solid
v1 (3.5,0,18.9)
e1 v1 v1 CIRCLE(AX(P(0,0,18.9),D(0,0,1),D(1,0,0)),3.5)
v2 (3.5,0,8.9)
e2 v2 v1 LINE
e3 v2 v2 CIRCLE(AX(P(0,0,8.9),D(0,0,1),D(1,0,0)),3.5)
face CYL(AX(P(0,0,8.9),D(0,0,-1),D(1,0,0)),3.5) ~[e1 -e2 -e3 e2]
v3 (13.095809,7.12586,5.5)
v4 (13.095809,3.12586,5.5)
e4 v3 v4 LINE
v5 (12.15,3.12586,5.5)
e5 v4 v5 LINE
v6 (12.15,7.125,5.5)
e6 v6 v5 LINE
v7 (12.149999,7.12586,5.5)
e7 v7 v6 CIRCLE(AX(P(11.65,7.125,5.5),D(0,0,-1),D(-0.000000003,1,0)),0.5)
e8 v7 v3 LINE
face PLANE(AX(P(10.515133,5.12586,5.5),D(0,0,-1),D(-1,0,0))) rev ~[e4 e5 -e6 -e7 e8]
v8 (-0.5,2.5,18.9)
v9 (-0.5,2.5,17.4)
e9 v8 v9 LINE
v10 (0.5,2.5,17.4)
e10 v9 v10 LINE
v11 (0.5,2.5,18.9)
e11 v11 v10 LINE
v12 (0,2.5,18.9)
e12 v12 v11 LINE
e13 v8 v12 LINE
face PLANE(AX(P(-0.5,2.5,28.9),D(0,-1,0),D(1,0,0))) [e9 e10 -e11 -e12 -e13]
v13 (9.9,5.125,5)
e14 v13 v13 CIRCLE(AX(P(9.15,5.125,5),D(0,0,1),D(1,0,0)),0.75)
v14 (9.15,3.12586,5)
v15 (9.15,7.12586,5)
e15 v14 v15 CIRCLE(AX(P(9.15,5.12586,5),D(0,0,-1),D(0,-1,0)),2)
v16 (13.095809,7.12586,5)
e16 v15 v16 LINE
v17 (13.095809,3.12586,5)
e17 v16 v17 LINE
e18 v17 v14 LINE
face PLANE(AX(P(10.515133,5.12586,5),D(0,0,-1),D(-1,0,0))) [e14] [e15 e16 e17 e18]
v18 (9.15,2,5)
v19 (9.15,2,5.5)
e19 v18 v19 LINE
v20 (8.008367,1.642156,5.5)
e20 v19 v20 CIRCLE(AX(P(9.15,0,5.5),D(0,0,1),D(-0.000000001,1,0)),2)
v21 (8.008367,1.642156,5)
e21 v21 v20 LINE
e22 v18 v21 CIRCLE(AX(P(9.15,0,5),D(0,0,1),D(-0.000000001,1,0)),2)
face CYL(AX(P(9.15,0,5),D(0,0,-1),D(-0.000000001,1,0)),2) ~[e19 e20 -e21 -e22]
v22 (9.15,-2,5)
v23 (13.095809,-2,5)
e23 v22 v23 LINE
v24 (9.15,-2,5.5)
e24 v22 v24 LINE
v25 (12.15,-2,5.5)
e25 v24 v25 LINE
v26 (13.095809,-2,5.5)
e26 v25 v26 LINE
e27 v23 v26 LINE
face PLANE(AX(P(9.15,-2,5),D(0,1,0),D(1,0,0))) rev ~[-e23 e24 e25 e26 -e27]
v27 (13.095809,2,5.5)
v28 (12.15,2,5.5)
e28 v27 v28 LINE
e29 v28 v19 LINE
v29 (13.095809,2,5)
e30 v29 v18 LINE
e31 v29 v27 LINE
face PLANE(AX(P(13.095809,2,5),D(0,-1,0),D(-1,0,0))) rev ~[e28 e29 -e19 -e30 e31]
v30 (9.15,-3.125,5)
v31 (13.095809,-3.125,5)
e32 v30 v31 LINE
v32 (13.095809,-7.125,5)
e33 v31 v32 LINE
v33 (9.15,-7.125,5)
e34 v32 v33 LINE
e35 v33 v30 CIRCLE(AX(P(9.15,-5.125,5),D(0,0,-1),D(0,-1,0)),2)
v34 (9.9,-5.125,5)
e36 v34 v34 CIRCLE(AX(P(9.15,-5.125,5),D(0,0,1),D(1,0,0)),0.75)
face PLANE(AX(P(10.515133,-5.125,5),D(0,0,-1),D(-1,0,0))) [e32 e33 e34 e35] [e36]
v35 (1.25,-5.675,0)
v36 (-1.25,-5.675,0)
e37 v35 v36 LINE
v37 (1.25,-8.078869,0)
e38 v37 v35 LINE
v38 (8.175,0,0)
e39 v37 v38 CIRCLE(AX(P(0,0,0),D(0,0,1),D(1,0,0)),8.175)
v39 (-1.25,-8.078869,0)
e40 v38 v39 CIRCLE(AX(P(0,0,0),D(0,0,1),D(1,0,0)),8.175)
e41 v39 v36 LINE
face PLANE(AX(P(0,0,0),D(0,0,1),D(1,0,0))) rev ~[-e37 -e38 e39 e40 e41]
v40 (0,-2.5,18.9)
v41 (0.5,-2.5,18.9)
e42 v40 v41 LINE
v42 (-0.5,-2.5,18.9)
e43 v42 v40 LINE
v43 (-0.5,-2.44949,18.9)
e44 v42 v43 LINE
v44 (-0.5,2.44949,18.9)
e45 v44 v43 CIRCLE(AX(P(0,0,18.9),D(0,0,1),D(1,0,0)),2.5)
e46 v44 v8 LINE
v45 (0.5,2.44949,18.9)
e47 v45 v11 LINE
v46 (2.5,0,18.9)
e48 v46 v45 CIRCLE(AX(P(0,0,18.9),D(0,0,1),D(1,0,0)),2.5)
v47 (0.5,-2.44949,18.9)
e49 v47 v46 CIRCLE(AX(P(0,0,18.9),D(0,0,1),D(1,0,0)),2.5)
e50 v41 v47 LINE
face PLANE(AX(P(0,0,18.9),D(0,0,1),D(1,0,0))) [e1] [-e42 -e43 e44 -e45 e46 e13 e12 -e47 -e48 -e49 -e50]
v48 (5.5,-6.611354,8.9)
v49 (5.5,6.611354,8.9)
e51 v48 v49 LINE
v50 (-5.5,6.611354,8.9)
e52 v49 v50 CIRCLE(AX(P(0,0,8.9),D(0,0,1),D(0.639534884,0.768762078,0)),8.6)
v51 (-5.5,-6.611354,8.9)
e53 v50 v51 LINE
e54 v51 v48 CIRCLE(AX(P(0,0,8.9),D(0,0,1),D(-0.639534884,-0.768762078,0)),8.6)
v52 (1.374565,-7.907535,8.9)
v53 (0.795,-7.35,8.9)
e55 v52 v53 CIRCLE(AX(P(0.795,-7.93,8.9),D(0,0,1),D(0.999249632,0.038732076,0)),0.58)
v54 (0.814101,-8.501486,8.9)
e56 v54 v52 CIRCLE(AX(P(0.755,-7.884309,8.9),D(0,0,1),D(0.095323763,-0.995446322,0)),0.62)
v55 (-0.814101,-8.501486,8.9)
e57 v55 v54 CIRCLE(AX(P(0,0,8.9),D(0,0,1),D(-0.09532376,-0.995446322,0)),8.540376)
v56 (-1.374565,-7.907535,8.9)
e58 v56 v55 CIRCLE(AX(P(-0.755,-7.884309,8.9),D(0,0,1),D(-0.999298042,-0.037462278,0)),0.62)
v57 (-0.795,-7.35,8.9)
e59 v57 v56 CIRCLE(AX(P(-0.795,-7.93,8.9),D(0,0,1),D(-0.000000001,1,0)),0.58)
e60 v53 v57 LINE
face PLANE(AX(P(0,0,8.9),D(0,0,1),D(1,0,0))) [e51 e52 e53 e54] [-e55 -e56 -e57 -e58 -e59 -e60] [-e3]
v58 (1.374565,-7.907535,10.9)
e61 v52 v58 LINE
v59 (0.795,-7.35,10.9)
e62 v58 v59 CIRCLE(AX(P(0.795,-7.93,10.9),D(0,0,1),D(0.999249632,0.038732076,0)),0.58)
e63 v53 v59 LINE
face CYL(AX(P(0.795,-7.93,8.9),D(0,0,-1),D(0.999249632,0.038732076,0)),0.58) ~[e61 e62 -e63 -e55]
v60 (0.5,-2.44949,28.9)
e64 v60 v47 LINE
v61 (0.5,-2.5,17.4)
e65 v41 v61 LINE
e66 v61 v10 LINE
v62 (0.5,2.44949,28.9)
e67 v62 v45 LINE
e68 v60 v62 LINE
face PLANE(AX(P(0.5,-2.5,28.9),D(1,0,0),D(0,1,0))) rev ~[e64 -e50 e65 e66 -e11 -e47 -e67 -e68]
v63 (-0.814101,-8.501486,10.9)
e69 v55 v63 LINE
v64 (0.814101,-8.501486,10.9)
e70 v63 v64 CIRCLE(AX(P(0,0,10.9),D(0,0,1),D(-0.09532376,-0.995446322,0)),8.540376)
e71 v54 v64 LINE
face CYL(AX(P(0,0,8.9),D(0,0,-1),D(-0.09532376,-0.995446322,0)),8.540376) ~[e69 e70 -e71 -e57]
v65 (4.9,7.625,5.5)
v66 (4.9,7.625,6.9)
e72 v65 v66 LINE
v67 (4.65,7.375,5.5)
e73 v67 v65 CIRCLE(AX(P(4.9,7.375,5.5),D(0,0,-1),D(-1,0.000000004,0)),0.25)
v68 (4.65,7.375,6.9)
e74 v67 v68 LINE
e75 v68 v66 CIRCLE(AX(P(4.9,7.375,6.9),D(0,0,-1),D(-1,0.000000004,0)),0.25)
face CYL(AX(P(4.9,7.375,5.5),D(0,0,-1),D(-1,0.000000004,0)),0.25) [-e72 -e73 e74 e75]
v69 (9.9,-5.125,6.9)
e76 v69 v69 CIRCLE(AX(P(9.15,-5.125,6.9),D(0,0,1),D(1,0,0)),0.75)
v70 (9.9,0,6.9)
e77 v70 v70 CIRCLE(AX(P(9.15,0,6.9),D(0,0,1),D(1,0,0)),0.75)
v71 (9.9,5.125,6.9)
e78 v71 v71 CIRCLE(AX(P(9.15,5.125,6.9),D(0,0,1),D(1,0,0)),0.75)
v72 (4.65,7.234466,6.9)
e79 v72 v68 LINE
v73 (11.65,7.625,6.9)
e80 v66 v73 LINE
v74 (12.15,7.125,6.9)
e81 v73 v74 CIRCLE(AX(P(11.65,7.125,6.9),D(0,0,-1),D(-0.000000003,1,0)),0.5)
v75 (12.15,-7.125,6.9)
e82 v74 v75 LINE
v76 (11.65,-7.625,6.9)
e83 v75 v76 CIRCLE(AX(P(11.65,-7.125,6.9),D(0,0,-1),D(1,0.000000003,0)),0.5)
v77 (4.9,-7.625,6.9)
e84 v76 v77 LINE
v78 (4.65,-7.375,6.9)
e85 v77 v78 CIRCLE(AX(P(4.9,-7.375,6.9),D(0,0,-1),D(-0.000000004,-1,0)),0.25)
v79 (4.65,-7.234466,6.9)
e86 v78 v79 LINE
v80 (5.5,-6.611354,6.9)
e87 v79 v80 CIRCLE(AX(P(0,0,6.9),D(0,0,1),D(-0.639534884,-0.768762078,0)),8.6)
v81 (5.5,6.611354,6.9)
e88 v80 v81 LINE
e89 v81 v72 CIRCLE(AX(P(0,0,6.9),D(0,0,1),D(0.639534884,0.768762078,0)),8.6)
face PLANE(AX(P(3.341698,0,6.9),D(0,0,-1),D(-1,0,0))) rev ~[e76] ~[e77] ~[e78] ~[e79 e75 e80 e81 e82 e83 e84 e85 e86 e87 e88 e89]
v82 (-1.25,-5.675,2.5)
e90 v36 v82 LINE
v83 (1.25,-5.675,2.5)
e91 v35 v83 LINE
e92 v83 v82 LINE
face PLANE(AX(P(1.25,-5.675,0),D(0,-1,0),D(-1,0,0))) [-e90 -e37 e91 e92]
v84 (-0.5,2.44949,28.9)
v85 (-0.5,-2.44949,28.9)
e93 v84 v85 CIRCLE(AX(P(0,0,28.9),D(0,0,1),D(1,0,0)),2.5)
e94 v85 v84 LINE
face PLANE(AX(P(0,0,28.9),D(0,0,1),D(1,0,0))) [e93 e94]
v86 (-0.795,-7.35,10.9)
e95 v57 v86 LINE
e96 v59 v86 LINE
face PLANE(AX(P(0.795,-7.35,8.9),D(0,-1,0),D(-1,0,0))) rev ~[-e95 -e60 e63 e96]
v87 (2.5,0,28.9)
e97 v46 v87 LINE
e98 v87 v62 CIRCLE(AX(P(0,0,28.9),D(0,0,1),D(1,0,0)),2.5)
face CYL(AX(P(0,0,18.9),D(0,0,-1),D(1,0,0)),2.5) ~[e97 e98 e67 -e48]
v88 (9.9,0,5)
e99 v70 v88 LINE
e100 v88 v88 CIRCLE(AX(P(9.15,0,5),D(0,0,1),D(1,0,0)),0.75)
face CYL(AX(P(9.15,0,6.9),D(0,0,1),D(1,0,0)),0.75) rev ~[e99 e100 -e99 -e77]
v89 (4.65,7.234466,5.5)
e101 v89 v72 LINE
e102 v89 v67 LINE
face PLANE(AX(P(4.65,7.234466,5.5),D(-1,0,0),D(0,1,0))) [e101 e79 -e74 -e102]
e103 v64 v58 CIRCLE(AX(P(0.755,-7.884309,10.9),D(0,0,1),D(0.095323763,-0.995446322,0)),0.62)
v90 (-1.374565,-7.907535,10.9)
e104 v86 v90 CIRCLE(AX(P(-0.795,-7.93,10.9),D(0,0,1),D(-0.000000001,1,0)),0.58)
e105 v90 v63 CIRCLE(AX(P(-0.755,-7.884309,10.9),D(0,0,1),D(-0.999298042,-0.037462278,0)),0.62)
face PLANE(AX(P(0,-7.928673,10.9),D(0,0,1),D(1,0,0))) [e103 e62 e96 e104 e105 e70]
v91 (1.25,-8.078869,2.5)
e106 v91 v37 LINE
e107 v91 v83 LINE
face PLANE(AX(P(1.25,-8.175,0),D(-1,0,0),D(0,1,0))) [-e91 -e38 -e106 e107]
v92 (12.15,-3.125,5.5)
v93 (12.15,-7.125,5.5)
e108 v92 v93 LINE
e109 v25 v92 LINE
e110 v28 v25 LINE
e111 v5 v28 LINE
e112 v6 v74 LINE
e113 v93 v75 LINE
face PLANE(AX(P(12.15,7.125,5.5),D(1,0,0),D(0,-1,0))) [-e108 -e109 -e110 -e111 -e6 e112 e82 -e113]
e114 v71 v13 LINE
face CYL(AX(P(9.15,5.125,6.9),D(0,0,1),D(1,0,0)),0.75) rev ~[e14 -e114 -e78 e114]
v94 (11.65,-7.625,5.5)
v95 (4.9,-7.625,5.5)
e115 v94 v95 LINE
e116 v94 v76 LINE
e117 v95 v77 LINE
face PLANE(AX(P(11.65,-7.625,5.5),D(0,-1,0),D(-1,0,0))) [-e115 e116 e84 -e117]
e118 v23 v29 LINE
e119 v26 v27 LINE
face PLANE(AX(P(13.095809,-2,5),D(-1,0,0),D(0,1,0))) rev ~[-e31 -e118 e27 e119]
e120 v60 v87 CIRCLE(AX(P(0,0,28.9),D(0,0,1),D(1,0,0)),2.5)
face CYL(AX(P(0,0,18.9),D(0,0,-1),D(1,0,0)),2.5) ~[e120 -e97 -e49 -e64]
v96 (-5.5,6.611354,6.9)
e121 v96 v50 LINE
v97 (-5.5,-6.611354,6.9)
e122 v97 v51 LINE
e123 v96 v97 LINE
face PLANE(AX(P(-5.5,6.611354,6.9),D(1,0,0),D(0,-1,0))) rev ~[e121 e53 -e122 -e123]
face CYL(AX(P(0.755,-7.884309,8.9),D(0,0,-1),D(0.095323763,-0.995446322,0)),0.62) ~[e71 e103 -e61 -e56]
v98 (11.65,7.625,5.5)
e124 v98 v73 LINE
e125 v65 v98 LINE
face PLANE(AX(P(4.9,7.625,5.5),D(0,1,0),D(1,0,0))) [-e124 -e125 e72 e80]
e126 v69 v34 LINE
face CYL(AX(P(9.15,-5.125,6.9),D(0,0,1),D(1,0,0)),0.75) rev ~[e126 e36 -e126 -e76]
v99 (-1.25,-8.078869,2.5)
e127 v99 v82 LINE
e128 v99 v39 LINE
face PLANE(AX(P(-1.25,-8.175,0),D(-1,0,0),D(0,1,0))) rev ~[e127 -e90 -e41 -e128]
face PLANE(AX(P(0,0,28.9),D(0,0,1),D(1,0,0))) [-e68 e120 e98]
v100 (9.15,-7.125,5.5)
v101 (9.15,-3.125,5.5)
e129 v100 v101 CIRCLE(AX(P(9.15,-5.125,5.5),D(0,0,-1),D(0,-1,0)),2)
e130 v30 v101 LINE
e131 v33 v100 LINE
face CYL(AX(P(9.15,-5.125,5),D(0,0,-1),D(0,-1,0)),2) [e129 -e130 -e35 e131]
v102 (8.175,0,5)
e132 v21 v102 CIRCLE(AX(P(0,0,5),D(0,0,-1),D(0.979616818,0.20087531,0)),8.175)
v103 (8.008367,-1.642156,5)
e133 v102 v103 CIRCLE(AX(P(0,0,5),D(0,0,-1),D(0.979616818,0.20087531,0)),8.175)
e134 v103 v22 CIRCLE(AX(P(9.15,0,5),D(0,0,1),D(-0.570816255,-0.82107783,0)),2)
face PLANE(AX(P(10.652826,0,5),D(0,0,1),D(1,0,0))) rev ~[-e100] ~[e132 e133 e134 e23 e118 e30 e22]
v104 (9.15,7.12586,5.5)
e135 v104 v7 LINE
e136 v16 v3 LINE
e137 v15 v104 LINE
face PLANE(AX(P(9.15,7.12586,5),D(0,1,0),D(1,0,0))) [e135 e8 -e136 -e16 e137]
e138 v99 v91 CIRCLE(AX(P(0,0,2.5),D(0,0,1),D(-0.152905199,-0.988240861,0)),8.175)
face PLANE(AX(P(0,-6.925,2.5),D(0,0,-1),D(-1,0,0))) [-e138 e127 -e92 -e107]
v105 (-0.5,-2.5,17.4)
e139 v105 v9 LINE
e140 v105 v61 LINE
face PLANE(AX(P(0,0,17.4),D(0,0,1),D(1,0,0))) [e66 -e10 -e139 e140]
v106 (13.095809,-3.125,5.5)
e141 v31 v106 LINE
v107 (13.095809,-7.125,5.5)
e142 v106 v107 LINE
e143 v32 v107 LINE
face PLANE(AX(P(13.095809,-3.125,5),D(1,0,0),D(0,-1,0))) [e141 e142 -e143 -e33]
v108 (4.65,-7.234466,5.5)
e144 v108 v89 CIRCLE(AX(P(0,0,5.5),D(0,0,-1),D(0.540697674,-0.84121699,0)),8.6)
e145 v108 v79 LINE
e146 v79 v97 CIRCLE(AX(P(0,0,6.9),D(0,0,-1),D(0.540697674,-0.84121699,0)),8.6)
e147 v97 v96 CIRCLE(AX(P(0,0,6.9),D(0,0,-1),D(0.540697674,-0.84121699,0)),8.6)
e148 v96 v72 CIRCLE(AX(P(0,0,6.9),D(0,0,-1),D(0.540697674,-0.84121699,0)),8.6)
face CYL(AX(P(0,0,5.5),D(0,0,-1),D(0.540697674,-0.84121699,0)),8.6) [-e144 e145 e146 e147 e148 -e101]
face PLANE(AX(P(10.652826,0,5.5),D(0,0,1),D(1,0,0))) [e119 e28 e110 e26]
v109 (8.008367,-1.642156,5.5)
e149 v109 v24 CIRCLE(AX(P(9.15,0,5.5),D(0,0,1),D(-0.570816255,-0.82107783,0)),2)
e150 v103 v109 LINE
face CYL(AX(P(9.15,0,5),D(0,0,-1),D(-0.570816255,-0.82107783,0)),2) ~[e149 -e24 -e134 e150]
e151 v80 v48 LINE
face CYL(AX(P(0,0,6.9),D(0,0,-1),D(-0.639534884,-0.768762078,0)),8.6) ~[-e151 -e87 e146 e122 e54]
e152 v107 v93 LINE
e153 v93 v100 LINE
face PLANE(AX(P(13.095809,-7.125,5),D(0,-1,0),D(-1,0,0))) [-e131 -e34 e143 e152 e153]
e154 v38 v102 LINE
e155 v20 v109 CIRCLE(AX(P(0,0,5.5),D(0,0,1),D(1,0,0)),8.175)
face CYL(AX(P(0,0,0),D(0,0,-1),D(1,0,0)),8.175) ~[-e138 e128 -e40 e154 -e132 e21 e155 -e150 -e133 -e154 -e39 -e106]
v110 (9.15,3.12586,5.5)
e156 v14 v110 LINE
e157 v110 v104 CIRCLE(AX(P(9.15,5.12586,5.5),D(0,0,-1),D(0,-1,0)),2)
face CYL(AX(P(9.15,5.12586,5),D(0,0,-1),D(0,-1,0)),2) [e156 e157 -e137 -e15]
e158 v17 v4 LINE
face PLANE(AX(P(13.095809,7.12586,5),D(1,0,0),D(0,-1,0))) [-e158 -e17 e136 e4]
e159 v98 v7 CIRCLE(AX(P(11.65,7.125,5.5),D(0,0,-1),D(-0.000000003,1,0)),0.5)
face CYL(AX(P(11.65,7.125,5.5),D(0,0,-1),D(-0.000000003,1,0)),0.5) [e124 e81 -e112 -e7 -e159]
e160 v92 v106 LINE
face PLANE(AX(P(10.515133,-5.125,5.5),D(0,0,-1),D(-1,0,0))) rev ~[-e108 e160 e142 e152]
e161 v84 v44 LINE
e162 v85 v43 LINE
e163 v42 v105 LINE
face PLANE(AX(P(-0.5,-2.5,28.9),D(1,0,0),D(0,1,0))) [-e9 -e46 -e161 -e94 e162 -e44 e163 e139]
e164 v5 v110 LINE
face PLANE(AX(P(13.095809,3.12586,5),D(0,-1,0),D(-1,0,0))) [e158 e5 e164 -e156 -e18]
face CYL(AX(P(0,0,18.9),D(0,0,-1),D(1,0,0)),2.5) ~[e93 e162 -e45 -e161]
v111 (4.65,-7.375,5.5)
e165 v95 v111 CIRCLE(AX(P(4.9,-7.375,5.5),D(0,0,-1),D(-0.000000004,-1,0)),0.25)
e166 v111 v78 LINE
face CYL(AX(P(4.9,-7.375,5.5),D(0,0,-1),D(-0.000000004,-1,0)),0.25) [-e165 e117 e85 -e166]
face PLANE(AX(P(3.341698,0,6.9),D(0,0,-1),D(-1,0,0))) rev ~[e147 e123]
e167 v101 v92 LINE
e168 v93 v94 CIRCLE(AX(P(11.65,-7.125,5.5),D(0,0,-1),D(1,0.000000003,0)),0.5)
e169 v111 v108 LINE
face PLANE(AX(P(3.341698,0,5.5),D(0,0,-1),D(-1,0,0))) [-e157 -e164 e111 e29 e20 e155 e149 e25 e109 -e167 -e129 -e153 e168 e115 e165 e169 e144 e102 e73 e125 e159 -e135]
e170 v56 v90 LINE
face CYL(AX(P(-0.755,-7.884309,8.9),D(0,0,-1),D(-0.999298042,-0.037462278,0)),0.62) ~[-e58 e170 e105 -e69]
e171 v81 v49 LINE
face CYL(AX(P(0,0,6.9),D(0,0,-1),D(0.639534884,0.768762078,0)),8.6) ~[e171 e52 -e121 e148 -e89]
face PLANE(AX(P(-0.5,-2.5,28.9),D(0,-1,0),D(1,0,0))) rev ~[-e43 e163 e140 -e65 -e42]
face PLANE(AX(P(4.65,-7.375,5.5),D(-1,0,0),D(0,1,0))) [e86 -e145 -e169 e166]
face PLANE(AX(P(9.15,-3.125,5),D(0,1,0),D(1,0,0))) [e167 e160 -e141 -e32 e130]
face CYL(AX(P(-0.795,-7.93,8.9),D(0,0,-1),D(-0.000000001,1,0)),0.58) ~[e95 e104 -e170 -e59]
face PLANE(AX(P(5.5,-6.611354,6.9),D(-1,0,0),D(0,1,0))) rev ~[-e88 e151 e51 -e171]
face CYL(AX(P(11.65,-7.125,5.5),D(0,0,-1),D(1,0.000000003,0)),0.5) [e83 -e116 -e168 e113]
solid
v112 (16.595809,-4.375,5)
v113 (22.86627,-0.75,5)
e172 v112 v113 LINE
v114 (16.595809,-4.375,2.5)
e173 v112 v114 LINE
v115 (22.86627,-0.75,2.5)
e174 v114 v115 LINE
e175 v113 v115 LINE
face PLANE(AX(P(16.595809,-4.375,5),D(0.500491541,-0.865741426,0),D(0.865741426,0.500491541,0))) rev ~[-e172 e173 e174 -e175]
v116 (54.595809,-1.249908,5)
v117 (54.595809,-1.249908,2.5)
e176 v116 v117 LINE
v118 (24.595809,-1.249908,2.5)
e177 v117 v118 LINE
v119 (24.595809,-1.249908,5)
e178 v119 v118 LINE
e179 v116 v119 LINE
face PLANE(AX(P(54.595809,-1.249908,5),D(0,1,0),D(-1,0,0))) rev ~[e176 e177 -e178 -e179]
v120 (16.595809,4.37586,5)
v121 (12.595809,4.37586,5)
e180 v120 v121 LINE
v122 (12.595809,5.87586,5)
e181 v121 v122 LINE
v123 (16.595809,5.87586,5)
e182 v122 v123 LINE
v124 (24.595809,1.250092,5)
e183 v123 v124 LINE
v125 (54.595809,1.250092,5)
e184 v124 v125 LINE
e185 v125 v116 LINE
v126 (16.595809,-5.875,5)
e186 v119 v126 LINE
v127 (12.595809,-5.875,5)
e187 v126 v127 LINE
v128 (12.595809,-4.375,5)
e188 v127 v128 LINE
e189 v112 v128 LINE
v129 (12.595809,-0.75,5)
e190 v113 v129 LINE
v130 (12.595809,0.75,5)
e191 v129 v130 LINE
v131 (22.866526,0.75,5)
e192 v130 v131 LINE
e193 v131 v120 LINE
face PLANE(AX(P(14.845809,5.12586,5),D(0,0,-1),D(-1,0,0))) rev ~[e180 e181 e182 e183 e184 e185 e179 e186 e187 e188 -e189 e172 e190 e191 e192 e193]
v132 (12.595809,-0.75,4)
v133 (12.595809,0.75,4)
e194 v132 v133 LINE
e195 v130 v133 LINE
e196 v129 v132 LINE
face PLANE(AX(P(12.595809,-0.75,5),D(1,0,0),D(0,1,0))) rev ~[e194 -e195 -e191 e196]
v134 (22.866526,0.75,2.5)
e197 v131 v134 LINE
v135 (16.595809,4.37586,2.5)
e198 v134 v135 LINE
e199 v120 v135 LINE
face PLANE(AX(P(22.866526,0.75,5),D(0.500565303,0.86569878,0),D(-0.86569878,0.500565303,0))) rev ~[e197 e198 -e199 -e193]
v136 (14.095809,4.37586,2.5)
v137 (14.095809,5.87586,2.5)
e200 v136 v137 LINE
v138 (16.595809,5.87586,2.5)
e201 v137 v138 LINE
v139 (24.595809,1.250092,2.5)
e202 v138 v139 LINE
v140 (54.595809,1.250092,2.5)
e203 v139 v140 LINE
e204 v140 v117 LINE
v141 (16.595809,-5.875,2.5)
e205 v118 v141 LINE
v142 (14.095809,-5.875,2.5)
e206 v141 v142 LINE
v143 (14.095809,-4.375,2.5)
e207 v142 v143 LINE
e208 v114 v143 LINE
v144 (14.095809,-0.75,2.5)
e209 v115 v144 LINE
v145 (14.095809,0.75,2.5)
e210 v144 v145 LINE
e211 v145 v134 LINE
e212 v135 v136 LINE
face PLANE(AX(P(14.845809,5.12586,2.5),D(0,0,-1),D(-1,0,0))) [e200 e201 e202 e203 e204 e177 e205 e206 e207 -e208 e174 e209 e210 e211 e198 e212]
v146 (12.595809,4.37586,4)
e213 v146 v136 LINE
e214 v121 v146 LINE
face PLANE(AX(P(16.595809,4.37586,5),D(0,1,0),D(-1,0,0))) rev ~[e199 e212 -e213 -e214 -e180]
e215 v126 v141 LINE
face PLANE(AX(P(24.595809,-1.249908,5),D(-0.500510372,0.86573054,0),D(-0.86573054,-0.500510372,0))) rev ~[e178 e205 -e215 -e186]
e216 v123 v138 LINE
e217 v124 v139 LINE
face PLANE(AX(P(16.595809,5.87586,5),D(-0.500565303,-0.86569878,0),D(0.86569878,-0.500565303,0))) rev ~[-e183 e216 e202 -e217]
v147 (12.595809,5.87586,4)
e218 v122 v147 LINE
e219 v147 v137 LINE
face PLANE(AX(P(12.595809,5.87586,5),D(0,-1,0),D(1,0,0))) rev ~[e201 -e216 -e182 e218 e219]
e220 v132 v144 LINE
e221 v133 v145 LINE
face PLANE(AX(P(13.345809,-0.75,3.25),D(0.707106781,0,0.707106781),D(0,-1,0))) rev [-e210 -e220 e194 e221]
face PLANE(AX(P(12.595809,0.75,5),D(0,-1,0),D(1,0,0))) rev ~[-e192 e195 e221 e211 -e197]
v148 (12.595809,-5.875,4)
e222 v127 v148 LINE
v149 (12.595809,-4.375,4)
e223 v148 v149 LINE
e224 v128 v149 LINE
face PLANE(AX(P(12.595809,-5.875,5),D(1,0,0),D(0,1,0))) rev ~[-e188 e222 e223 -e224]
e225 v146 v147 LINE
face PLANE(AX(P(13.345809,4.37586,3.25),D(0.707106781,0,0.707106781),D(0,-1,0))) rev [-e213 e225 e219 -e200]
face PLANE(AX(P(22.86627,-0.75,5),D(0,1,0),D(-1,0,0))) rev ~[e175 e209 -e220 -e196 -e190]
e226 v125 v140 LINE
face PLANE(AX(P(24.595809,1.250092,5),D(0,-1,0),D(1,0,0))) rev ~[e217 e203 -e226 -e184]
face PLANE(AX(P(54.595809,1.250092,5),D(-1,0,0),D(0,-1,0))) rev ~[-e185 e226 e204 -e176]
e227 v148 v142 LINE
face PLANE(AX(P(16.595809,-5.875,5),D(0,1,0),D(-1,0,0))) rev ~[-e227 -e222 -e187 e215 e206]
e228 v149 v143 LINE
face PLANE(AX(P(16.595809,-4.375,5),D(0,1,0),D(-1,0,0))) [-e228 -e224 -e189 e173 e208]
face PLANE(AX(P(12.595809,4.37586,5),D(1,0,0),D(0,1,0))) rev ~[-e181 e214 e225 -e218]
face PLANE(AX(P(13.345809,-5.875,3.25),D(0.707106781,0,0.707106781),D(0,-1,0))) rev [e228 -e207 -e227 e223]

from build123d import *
from build123d.topology import SkipClean

# Parameters (mm, degrees)
SKETCH_2_R          = 8.175
EXTRUDE_1_DEPTH     = 5.5
EXTRUDE_2_DEPTH     = 1.4
SKETCH_5_W          = 2.5
SKETCH_5_H          = 2.5
CUT_EXTRUDE_1_DEPTH = 2.5
EXTRUDE_3_DEPTH     = 2
SKETCH_7_R          = 3.5
EXTRUDE_4_DEPTH     = 10
SKETCH_8_R          = 2.5
EXTRUDE_5_DEPTH     = 10
SKETCH_9_W          = 1
SKETCH_9_H          = 5
CUT_EXTRUDE_5_DEPTH = 11.5
EXTRUDE_START       = 0.5
EXTRUDE_6_DEPTH     = 0.5
SKETCH_14_W         = 3.5
SKETCH_14_H         = 1.5
SKETCH_14_W_2       = 0.5
SKETCH_14_W_3       = 4
EXTRUDE_7_DEPTH     = 2.5
SKETCH_11_R         = 0.75
CUT_EXTRUDE_6_DEPTH = 1.9
CHAMFER_1_SIZE      = 1.5
EXTRUDE_4636_DEPTH  = 2


with BuildPart() as part:
    # Эскиз2 → Бобышка-Вытянуть1 (new body)
    with BuildSketch(Plane.XY):
        Circle(SKETCH_2_R)
    extrude(amount=EXTRUDE_1_DEPTH)

    # Эскиз3 → Бобышка-Вытянуть2 (add)
    with BuildSketch(Plane.XY.offset(5.5)):
        with BuildLine():
            Line((4.65, -7.375), (4.65, -7.234466117))
            ThreePointArc((4.65, -7.234466117), (-8.6, 0), (4.65, 7.234466117))
            Line((4.65, 7.234466117), (4.65, 7.375))
            ThreePointArc((4.65, 7.375), (4.723223305, 7.551776695), (4.9, 7.625))
            Line((4.9, 7.625), (11.65, 7.625))
            ThreePointArc((11.65, 7.625), (12.003553391, 7.478553391), (12.15, 7.125))
            Line((12.15, 7.125), (12.15, -7.125))
            ThreePointArc((12.15, -7.125), (12.003553391, -7.478553391), (11.65, -7.625))
            Line((11.65, -7.625), (4.9, -7.625))
            ThreePointArc((4.9, -7.625), (4.723223305, -7.551776695), (4.65, -7.375))
        make_face()
    extrude(amount=EXTRUDE_2_DEPTH)

    # Эскиз5 → Вырез-Вытянуть1 (cut)
    with BuildSketch(Plane(origin=(0, 0, 0), x_dir=(-1, 0, 0), z_dir=(0, 0, -1))):
        with Locations((0, -6.925)):
            Rectangle(SKETCH_5_W, SKETCH_5_H)
    extrude(amount=-CUT_EXTRUDE_1_DEPTH, mode=Mode.SUBTRACT)

    # Эскиз6 → Бобышка-Вытянуть3 (add)
    with SkipClean():  # the faces are left unmerged after this step: merging them gives an invalid solid
        with BuildSketch(Plane.XY.offset(6.9)):
            with BuildLine():
                Line((-5.5, 6.61135387), (-5.5, -6.61135387))
                ThreePointArc((-5.5, -6.61135387), (0, -8.6), (5.5, -6.61135387))
                Line((5.5, -6.61135387), (5.5, 6.61135387))
                ThreePointArc((5.5, 6.61135387), (0, 8.6), (-5.5, 6.61135387))
            make_face()
        extrude(amount=EXTRUDE_3_DEPTH)

    # Эскиз7 → Бобышка-Вытянуть4 (add)
    with SkipClean():  # the faces are left unmerged after this step: merging them gives an invalid solid
        with BuildSketch(Plane.XY.offset(8.9)):
            Circle(SKETCH_7_R)
        extrude(amount=EXTRUDE_4_DEPTH)

    # Эскиз8 → Бобышка-Вытянуть5 (add)
    with SkipClean():  # the faces are left unmerged after this step: merging them gives an invalid solid
        with BuildSketch(Plane.XY.offset(18.9)):
            Circle(SKETCH_8_R)
        extrude(amount=EXTRUDE_5_DEPTH)

    # Эскиз9 → Вырез-Вытянуть5 (cut)
    with SkipClean():  # the faces are left unmerged after this step: merging them gives an invalid solid
        with BuildSketch(Plane.XY.offset(28.9)):
            Rectangle(SKETCH_9_W, SKETCH_9_H)
        extrude(amount=-CUT_EXTRUDE_5_DEPTH, mode=Mode.SUBTRACT)

    # Эскиз12 → Бобышка-Вытянуть6 (add)
    with SkipClean():  # the faces are left unmerged after this step: merging them gives an invalid solid
        with BuildSketch(Plane(origin=(0, 0, 5.5), x_dir=(-1, 0, 0), z_dir=(0, 0, -1)).offset(EXTRUDE_START)):
            with BuildLine():
                Line((-9.15, -2), (-13.095809491, -2))
                Line((-13.095809491, -2), (-13.095809491, 2))
                Line((-13.095809491, 2), (-9.15, 2))
                ThreePointArc((-9.15, 2), (-8.551799079, 1.908443255), (-8.008367486, 1.642155658))
                ThreePointArc((-8.008367486, 1.642155658), (-8.175, 0), (-8.008367486, -1.642155658))
                ThreePointArc((-8.008367486, -1.642155658), (-8.551799079, -1.908443255), (-9.15, -2))
            make_face()
            with BuildLine():
                Line((-9.15, 7.125860343), (-13.095809491, 7.125860343))
                Line((-13.095809491, 7.125860343), (-13.095809491, 3.125860343))
                Line((-13.095809491, 3.125860343), (-9.15, 3.125860343))
                ThreePointArc((-9.15, 3.125860343), (-7.15, 5.125860343), (-9.15, 7.125860343))
            make_face()
            with BuildLine():
                Line((-13.095809491, -3.125), (-13.095809491, -7.125))
                Line((-13.095809491, -7.125), (-9.15, -7.125))
                ThreePointArc((-9.15, -7.125), (-7.15, -5.125), (-9.15, -3.125))
                Line((-9.15, -3.125), (-13.095809491, -3.125))
            make_face()
        extrude(amount=-EXTRUDE_6_DEPTH)

    # Эскиз11 → Вырез-Вытянуть6 (cut)
    with SkipClean():  # the faces are left unmerged after this step: merging them gives an invalid solid
        with BuildSketch(Plane.XY.offset(6.9)):
            with Locations((9.15, 5.125)):
                Circle(SKETCH_11_R)
            with Locations((9.15, 0)):
                Circle(SKETCH_11_R)
            with Locations((9.15, -5.125)):
                Circle(SKETCH_11_R)
        extrude(amount=-CUT_EXTRUDE_6_DEPTH, mode=Mode.SUBTRACT)

    # Sketch 4220 → Extrude 4636 (add)
    with SkipClean():  # the faces are left unmerged after this step: merging them gives an invalid solid
        with BuildSketch(Plane.XY.offset(8.9)):
            with BuildLine():
                Line((0.795, -7.35), (-0.795, -7.35))
                ThreePointArc((-0.795, -7.35), (-1.197101063, -7.512011083), (-1.374564786, -7.907535396))
                ThreePointArc((-1.374564786, -7.907535396), (-1.20593337, -8.309819178), (-0.814100732, -8.501485504))
                ThreePointArc((-0.814100732, -8.501485504), (0, -8.540375622), (0.814100732, -8.501485504))
                ThreePointArc((0.814100732, -8.501485504), (1.20593337, -8.309819178), (1.374564786, -7.907535396))
                ThreePointArc((1.374564786, -7.907535396), (1.197101063, -7.512011083), (0.795, -7.35))
            make_face()
        extrude(amount=EXTRUDE_4636_DEPTH)


with BuildPart() as body_2:
    # Эскиз14 → Бобышка-Вытянуть7 (new body)
    with BuildSketch(Plane(origin=(0, 0, 5), x_dir=(-1, 0, 0), z_dir=(0, 0, -1))):
        with Locations((-14.845809491, 5.125860343)):
            Rectangle(SKETCH_14_W, SKETCH_14_H)
        with Locations((-12.845809491, 5.125860343)):
            Rectangle(SKETCH_14_W_2, SKETCH_14_H)
        with Locations((-14.595809491, 0)):
            Rectangle(SKETCH_14_W_3, SKETCH_14_H)
        with Locations((-14.595809491, -5.125)):
            Rectangle(SKETCH_14_W_3, SKETCH_14_H)
        Polygon((-16.595809491, 4.375860343), (-16.595809491, 5.875860343), (-24.595809491, 1.250091519), (-26.757770569, 0), (-24.163607208, 0), (-22.866525527, 0.75), align=None)
        Polygon((-16.595809491, 0), (-24.163607208, 0), (-22.866270457, -0.75), (-16.595809491, -0.75), align=None)
        Polygon((-16.595809491, 0.75), (-22.866525527, 0.75), (-24.163607208, 0), (-16.595809491, 0), align=None)
        Polygon((-24.163607208, 0), (-26.757770569, 0), (-24.595809491, -1.249908481), (-16.595809491, -5.875), (-16.595809491, -4.375), (-22.866270457, -0.75), align=None)
        Polygon((-26.757770569, 0), (-24.595809491, 1.250091519), (-54.595809491, 1.250091519), (-54.595809491, -1.249908481), (-24.595809491, -1.249908481), align=None)
    extrude(amount=EXTRUDE_7_DEPTH)

    # Фаска1
    chamfer_1_edges = [body_2.edges().sort_by_distance(p)[0] for p in [
        (12.595809491, 0, 2.5),
        (12.595809491, 5.125860343, 2.5),
        (12.595809491, -5.125, 2.5),
    ]]
    chamfer(chamfer_1_edges, length=CHAMFER_1_SIZE)


solid = Compound([part.part, body_2.part])
